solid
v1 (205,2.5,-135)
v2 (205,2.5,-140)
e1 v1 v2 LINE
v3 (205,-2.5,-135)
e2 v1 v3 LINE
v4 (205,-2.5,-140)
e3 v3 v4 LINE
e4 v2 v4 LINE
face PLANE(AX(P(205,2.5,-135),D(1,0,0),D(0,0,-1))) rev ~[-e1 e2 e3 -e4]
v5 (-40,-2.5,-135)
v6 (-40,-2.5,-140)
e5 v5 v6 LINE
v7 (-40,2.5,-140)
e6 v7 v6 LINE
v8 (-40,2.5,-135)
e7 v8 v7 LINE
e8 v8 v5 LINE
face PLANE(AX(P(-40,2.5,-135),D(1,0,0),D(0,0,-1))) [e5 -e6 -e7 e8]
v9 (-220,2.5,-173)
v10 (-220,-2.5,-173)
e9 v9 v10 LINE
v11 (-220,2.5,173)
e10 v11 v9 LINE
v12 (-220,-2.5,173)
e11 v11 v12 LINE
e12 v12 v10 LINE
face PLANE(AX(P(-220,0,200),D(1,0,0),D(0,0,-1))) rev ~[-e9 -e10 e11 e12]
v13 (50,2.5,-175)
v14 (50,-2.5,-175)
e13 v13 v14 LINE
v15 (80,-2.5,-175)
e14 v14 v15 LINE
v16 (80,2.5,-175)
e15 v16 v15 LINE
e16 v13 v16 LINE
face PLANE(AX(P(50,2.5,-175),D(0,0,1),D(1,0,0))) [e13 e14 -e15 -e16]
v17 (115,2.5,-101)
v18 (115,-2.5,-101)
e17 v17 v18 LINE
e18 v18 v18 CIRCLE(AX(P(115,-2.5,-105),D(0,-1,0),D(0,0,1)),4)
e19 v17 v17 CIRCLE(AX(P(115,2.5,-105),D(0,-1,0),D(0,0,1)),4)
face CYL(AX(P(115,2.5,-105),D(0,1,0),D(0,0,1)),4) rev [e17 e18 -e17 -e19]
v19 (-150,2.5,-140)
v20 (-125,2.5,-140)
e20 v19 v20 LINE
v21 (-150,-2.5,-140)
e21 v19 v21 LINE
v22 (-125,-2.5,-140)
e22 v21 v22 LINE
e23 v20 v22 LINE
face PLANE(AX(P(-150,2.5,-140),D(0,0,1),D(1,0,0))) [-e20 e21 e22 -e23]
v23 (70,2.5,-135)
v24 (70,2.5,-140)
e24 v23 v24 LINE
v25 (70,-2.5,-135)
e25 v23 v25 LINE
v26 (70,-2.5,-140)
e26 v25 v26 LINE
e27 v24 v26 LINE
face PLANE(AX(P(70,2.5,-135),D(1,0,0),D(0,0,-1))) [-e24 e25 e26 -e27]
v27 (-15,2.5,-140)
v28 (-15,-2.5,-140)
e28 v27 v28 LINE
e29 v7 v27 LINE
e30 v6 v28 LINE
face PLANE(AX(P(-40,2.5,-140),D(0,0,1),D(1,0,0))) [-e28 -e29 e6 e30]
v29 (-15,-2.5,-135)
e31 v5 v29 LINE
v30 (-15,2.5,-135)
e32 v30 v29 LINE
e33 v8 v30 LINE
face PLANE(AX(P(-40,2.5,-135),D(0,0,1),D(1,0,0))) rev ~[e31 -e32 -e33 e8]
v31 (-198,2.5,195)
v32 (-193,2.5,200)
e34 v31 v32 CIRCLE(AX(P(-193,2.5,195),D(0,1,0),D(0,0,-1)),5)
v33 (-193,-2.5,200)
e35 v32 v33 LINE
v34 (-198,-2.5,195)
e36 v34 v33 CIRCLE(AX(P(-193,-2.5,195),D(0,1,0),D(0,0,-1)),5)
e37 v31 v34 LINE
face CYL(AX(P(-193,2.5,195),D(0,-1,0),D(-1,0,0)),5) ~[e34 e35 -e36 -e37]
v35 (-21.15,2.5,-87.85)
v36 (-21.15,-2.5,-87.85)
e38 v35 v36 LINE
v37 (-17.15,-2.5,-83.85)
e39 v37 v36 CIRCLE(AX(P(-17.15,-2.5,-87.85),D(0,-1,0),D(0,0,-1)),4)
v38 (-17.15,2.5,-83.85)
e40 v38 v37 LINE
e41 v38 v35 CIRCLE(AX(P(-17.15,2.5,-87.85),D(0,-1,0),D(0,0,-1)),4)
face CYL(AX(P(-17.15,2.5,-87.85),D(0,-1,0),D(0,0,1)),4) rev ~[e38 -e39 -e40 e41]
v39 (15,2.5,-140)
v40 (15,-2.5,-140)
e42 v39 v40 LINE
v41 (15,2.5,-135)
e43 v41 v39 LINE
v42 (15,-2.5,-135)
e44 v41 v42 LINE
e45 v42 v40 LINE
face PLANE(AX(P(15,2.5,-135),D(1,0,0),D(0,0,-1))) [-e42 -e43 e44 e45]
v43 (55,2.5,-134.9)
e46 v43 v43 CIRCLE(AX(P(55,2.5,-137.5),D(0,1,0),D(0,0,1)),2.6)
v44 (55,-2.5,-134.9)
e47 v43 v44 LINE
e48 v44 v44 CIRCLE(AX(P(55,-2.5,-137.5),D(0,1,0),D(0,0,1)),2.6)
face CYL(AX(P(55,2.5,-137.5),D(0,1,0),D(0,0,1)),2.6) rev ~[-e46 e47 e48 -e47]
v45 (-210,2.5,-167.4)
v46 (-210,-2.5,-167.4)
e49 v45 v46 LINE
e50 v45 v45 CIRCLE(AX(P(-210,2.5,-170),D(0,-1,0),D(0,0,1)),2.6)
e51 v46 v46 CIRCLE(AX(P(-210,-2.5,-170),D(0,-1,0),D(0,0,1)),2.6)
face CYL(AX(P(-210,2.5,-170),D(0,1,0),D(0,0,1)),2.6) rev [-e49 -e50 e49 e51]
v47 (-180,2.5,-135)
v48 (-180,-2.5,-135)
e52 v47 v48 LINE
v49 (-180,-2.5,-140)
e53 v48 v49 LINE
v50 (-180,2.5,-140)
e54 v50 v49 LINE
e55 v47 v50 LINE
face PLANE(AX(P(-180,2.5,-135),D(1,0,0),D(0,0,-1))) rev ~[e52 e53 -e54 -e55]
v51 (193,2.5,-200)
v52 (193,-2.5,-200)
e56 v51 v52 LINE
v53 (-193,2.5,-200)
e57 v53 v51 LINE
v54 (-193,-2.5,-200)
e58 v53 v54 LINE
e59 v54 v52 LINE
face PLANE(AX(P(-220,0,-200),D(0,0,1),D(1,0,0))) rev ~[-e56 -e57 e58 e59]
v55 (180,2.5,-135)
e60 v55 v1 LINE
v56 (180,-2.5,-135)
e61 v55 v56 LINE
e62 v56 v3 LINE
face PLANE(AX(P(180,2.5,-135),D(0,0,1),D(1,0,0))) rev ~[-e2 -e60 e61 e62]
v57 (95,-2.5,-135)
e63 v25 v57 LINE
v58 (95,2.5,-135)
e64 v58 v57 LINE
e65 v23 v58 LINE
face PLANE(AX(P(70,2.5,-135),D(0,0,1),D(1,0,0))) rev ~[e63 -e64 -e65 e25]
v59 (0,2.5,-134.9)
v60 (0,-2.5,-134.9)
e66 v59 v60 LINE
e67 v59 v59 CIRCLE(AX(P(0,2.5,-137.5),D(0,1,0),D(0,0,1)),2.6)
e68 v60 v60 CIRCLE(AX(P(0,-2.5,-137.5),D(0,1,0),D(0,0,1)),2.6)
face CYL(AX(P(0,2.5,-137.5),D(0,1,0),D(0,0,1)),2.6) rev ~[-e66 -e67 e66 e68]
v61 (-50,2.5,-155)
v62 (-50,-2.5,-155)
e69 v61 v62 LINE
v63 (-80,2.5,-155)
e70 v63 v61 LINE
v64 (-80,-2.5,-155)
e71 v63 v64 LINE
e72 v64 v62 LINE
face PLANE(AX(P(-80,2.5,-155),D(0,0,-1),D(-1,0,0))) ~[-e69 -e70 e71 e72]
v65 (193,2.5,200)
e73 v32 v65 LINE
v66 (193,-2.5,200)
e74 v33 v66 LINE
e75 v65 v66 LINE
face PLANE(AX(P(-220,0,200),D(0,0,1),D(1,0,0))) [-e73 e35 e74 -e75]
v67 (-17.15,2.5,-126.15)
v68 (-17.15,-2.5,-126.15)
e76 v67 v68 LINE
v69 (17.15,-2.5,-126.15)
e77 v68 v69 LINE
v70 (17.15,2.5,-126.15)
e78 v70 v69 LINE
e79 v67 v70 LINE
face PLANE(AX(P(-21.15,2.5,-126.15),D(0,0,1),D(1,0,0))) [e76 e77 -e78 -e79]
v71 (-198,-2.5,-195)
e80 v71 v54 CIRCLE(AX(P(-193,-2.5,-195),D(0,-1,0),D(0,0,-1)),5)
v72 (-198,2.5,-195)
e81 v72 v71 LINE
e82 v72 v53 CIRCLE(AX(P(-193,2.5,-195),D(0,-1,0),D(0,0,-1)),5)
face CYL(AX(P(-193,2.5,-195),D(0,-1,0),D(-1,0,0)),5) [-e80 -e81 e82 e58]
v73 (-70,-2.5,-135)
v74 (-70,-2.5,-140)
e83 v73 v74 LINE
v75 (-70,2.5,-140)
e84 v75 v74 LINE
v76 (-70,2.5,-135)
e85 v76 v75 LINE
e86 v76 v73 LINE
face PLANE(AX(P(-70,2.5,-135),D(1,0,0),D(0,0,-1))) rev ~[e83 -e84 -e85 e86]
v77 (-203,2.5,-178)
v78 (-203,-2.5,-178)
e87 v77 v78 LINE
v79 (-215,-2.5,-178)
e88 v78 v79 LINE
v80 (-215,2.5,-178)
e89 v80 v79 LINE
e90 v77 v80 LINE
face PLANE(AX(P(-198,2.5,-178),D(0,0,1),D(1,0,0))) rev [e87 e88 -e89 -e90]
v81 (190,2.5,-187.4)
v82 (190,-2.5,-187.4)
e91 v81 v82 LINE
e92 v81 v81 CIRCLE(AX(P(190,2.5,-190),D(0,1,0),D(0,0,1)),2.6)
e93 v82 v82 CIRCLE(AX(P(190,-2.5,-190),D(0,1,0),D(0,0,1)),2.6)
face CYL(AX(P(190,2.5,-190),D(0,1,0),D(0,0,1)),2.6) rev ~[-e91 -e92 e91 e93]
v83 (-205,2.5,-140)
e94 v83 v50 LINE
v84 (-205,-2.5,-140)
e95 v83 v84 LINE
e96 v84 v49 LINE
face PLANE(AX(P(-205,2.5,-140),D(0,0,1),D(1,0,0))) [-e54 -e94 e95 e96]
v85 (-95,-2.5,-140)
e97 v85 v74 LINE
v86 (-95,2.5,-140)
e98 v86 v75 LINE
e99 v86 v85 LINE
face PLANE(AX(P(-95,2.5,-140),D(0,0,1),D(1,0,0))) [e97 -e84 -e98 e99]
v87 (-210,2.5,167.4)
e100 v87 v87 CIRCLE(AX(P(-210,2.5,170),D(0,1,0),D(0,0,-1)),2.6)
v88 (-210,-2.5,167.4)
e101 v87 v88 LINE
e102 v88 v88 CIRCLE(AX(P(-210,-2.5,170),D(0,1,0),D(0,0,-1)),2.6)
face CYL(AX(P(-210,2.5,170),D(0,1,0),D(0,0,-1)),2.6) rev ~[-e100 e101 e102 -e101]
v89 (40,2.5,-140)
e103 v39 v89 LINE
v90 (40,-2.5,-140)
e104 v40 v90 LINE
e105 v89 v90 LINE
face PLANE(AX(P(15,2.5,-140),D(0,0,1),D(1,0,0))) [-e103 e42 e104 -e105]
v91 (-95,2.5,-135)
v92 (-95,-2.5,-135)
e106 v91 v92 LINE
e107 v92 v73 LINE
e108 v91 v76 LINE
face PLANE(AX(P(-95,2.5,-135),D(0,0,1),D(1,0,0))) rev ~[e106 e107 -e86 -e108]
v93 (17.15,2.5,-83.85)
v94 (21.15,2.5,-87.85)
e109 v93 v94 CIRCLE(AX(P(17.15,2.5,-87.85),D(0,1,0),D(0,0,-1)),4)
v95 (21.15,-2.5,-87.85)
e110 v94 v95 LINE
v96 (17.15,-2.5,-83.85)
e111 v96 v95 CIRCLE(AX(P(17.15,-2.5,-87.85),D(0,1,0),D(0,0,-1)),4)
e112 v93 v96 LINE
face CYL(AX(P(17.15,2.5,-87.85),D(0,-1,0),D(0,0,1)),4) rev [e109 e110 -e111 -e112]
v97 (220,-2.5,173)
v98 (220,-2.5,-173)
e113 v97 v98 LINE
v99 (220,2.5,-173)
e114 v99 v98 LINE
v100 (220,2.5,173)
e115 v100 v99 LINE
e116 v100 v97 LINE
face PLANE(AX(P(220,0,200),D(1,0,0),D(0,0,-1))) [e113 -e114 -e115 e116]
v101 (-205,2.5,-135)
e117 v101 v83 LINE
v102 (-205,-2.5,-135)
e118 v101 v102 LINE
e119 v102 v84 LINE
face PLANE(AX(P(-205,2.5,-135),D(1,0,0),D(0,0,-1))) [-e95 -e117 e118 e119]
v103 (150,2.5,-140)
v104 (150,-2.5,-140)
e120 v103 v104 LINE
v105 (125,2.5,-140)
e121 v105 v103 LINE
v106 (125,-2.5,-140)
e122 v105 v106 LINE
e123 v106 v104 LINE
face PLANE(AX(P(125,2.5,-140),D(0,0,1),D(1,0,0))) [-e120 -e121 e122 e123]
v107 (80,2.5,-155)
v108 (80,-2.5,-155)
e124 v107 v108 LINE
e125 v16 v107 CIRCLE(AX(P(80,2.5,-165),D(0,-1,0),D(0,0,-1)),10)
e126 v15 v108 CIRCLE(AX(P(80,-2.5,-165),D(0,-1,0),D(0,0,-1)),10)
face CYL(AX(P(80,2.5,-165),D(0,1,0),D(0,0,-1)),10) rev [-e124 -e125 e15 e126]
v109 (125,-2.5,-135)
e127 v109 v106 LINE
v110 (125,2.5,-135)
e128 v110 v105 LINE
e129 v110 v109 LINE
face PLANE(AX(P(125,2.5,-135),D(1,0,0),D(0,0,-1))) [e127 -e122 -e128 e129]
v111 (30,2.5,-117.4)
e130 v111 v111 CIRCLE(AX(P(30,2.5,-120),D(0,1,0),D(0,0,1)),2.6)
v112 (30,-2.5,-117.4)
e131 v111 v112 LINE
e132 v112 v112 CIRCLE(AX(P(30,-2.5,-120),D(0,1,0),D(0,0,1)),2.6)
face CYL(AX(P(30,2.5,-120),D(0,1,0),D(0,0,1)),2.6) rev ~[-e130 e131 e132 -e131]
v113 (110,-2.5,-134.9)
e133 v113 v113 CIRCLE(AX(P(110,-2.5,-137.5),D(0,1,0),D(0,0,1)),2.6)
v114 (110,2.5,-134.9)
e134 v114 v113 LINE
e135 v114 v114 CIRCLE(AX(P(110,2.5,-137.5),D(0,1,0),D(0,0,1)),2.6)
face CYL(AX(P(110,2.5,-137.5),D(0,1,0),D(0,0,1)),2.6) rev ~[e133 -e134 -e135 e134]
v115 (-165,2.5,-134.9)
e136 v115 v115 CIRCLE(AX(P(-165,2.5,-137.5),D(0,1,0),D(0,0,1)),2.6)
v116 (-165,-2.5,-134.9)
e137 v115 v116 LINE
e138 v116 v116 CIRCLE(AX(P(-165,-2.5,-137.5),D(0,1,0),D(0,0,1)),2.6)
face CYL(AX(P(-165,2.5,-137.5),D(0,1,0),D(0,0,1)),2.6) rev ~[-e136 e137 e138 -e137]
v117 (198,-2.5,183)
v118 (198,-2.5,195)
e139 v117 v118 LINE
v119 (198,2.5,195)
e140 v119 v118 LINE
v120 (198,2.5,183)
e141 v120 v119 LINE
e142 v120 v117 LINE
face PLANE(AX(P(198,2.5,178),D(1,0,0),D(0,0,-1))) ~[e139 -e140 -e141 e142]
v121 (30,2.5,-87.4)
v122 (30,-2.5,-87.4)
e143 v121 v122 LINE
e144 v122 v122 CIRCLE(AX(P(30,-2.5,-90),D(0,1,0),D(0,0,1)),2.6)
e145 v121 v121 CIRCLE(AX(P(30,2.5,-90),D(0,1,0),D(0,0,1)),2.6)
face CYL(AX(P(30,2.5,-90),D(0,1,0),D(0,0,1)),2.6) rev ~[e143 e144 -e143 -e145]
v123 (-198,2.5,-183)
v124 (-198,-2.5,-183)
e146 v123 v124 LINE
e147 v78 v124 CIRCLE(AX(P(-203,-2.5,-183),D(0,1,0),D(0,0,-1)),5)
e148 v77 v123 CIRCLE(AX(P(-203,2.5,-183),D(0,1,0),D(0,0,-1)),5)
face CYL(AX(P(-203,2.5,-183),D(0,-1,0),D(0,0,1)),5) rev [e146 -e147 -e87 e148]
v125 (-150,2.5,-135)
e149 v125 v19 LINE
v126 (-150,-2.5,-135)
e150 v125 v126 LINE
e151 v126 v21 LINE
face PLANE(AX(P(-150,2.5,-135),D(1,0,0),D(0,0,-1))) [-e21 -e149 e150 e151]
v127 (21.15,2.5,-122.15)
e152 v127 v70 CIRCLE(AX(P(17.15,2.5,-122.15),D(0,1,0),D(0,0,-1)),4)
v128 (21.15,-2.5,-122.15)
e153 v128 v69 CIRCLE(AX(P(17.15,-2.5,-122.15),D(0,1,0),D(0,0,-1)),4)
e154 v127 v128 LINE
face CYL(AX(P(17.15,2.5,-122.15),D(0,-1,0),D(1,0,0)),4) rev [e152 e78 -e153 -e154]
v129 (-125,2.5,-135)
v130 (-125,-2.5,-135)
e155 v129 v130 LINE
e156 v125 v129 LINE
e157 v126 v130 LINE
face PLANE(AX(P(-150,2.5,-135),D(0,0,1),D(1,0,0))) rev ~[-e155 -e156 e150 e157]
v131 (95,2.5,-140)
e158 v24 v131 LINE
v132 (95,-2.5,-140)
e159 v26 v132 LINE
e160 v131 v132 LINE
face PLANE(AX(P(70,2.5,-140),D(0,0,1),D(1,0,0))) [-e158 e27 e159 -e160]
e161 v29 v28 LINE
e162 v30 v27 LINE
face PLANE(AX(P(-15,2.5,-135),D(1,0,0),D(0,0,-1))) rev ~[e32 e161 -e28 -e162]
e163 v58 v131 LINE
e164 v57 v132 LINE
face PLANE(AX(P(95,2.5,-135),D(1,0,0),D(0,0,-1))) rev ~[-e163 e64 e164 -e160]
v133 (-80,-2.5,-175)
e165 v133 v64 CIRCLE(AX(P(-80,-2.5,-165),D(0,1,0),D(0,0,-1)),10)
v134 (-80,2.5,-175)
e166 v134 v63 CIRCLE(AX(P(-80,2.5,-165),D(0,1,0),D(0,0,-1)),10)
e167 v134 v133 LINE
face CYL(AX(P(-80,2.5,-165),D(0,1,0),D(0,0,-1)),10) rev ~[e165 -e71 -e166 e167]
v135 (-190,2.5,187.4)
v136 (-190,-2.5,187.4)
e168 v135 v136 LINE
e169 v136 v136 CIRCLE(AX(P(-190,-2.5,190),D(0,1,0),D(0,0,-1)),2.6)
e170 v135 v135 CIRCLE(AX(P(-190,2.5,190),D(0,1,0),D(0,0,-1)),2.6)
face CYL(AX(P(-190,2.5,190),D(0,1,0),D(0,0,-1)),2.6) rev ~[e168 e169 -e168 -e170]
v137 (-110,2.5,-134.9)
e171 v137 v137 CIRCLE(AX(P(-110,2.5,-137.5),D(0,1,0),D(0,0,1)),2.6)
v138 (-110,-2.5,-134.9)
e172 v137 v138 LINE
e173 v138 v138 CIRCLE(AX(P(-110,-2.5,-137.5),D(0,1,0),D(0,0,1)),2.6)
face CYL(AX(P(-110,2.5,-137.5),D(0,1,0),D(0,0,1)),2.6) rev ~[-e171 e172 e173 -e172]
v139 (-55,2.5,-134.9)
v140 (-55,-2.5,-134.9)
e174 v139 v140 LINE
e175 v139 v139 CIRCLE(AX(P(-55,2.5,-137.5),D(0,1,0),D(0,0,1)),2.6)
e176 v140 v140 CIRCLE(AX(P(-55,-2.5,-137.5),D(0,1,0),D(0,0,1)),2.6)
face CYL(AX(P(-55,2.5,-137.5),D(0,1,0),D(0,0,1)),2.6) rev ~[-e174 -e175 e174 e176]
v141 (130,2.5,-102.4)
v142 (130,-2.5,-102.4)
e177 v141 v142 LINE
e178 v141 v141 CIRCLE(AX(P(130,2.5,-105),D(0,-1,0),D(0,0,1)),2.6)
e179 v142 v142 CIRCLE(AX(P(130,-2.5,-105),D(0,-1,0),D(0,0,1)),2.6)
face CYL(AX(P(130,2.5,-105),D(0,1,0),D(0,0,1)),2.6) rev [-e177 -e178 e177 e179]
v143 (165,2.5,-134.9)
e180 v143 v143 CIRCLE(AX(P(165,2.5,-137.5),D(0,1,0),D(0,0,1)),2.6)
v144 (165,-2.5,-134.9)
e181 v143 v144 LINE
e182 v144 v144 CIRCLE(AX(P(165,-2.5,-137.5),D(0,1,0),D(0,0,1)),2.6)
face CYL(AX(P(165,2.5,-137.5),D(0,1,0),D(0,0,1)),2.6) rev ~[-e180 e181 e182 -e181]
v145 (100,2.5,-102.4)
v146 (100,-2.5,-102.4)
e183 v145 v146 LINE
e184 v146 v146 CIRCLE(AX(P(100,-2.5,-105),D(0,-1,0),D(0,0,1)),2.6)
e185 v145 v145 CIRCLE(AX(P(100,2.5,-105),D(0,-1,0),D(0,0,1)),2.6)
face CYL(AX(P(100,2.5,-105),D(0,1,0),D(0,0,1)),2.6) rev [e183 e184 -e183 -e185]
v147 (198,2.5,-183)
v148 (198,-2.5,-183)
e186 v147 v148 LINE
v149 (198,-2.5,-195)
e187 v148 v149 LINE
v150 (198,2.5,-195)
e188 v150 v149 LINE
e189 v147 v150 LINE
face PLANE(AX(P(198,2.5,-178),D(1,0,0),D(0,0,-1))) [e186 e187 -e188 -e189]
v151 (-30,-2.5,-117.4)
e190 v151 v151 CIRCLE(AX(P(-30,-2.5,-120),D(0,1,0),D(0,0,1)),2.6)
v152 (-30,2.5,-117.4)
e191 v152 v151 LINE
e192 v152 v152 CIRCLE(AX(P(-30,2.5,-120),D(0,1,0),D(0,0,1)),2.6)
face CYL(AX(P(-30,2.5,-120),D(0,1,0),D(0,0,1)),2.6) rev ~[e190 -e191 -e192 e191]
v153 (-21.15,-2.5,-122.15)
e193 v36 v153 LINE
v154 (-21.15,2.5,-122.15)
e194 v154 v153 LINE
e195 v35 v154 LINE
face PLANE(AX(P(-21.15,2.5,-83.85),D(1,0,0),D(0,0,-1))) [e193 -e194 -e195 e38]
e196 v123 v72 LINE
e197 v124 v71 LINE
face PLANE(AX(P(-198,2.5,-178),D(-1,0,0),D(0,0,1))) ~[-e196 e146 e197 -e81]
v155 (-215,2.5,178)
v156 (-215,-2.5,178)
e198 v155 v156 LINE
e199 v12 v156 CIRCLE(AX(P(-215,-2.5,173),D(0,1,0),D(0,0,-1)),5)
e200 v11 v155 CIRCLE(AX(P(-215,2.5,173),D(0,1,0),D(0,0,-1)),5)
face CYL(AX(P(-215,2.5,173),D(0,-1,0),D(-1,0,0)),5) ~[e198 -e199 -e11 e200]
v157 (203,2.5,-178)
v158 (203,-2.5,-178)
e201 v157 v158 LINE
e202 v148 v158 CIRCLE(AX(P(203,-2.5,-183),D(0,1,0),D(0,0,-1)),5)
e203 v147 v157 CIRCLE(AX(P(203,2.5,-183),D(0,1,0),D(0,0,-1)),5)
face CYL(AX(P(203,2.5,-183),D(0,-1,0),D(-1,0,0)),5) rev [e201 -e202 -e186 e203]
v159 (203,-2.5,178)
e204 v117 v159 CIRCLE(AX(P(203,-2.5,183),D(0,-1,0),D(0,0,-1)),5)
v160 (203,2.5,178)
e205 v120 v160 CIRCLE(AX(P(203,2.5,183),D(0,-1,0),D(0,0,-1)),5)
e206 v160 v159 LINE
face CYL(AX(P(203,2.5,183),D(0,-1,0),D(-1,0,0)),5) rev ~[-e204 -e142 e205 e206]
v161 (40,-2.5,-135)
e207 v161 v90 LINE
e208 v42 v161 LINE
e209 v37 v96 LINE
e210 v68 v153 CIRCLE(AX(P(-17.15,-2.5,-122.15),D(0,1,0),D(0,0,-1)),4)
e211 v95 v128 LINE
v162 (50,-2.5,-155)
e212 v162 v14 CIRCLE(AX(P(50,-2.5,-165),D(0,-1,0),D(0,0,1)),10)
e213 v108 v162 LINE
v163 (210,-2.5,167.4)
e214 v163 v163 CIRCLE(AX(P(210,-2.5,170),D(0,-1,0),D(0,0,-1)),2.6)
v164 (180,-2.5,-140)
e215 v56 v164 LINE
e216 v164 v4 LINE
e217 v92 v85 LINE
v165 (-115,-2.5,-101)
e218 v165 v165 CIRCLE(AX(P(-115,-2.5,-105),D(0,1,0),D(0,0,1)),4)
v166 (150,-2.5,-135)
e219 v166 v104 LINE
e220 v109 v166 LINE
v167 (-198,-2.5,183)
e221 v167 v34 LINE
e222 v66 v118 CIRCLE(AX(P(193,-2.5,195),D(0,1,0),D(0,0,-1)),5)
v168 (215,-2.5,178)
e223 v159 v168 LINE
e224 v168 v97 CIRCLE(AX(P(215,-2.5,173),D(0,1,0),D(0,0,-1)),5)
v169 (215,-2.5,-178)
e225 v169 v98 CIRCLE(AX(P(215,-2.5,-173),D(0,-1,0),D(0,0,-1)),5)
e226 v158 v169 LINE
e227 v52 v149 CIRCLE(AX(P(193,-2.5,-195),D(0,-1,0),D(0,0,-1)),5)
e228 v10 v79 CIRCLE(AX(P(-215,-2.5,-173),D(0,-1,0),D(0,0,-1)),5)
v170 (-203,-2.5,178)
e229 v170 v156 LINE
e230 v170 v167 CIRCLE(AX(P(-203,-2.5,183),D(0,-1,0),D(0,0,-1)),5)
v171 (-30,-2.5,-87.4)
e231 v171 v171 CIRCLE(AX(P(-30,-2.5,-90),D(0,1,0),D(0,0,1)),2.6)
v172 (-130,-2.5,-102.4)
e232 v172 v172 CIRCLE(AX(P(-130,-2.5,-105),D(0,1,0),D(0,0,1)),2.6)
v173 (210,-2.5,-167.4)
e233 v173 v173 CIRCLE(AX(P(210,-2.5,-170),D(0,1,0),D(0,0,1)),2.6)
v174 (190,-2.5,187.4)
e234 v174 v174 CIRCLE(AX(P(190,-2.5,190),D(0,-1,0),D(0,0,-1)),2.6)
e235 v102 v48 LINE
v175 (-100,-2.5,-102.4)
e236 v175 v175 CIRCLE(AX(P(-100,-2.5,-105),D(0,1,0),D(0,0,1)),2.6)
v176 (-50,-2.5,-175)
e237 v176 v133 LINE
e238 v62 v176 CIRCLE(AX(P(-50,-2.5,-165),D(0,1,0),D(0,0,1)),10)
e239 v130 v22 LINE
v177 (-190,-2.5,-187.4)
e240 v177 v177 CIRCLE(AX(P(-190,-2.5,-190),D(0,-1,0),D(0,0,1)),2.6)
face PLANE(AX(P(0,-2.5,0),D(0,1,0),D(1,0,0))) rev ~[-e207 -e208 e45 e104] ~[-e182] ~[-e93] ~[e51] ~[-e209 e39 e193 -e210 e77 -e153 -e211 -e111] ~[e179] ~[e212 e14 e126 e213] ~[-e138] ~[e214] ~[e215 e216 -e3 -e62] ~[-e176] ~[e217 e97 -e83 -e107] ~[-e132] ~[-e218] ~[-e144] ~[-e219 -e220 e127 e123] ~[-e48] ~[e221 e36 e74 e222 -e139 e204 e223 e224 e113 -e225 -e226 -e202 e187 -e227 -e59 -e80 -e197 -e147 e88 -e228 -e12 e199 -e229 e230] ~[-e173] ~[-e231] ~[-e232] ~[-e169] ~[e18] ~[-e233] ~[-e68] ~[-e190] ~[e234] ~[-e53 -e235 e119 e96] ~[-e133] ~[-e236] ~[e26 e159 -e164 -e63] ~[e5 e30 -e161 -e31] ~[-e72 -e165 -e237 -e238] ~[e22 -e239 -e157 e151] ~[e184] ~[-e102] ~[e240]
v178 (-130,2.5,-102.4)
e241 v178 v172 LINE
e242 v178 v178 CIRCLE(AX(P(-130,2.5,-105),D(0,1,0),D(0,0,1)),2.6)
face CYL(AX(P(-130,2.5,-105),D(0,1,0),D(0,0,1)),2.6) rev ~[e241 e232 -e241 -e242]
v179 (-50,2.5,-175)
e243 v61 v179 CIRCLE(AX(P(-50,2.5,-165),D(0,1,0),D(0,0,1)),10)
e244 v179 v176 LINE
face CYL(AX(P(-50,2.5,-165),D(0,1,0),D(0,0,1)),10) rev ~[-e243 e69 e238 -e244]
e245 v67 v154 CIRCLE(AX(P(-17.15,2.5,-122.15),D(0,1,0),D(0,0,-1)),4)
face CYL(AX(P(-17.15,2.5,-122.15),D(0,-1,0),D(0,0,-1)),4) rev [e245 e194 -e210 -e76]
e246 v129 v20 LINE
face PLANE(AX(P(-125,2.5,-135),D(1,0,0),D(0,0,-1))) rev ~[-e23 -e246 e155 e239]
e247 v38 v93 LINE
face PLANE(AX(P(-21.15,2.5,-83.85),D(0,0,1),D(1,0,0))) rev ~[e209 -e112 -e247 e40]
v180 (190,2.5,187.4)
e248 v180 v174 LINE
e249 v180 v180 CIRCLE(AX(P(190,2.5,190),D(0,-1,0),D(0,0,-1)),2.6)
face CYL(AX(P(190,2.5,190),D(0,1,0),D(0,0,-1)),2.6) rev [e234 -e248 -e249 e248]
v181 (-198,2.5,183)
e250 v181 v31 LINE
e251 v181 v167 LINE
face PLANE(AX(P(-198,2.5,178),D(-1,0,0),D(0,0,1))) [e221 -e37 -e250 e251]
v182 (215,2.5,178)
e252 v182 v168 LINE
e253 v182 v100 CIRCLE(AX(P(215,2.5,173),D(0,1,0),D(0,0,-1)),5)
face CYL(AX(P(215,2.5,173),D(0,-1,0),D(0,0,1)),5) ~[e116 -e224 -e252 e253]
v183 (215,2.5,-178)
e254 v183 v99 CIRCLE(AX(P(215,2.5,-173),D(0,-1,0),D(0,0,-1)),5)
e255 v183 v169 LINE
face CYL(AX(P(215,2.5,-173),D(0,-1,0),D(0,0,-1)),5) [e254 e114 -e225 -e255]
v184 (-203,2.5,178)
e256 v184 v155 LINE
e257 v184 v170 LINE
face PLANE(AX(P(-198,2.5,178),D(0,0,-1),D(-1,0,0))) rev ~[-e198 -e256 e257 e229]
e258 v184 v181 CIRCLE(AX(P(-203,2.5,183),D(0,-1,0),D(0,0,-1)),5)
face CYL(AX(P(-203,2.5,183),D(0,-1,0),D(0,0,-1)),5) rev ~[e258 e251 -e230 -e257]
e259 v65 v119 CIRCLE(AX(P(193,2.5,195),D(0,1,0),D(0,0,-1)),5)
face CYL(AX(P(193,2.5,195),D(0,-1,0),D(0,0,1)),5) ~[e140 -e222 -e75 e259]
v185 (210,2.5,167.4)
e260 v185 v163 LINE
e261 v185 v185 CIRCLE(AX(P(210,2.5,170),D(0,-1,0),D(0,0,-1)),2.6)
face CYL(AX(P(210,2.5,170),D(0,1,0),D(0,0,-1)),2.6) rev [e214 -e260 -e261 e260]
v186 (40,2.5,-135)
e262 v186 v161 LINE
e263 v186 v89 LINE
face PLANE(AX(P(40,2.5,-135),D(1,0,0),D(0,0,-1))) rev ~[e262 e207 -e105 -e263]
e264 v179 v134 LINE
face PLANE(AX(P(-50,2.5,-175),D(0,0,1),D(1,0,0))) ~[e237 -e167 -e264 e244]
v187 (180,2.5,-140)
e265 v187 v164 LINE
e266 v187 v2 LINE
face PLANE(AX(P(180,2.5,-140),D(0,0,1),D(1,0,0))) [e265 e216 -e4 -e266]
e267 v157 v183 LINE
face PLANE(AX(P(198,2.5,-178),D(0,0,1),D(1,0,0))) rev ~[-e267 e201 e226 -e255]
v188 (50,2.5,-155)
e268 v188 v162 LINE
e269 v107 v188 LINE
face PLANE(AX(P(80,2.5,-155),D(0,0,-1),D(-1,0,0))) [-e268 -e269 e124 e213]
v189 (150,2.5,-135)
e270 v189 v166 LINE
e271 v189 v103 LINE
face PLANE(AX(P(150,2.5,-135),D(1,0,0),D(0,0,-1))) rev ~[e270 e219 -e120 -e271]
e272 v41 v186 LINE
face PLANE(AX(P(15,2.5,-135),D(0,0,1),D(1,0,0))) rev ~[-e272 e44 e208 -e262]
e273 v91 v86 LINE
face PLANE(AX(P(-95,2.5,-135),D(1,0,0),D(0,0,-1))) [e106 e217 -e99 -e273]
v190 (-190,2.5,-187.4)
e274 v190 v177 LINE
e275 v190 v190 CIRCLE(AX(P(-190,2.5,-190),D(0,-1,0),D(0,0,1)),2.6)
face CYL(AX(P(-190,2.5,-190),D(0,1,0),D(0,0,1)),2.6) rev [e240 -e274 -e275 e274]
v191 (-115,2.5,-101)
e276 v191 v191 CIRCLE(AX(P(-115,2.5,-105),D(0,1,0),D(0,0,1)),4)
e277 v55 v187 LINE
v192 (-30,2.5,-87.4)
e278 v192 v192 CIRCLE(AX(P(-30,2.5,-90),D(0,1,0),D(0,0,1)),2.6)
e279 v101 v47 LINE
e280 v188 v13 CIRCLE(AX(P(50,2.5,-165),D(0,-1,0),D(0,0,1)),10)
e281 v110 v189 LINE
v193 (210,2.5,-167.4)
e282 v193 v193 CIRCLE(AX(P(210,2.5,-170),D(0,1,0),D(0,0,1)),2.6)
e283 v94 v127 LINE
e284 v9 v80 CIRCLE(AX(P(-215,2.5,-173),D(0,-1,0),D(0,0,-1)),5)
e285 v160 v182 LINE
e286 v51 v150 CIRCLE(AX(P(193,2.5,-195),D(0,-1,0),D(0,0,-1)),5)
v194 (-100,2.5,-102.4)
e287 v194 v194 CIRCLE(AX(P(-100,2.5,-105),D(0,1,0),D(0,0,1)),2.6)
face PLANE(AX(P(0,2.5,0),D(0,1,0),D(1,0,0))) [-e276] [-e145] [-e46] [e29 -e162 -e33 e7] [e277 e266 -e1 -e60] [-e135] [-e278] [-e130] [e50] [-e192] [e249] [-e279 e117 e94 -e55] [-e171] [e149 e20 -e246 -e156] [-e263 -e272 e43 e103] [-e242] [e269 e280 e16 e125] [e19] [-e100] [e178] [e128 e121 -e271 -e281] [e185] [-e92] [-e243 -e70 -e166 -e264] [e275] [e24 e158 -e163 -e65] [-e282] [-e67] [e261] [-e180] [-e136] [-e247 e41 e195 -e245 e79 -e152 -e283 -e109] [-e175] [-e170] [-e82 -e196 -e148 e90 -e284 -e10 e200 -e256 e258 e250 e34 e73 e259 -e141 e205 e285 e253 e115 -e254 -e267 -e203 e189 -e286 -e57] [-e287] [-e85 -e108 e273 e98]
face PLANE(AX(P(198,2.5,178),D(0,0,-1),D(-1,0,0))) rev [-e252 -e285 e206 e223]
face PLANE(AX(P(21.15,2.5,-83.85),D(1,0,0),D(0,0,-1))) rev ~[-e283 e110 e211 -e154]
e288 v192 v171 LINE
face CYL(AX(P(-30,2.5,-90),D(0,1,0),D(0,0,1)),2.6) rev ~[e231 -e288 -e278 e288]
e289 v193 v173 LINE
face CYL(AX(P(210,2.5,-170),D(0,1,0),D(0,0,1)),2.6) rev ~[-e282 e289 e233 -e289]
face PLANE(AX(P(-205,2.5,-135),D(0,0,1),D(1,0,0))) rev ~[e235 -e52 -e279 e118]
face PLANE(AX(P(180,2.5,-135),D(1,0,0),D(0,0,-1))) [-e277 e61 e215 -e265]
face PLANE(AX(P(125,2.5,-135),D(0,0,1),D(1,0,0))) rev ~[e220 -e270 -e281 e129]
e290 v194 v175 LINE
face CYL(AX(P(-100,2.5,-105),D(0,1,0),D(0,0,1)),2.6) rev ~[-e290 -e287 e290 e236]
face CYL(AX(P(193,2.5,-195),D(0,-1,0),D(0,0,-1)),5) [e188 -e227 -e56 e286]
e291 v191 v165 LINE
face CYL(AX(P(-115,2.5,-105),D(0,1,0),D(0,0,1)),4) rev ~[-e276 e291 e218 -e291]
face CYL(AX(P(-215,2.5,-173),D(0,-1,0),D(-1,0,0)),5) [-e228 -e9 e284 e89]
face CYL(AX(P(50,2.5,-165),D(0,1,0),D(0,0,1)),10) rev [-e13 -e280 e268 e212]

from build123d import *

# Parameters (mm, degrees)
SKETCH1_W               = 440
SKETCH1_H               = 400
BOSS_EXTRUDE1_DEPTH     = 2.5
SKETCH2_W               = 22
SKETCH2_H               = 22
CUT_EXTRUDE1_DEPTH      = 5
SKETCH3_R               = 2.6
CUT_EXTRUDE2_DEPTH      = 5
MIRROR2_COPY_1_SKETCH_W = 22
MIRROR2_COPY_1_SKETCH_H = 22
MIRROR2_COPY_1_DEPTH    = 5
MIRROR2_COPY_2_SKETCH_R = 2.6
MIRROR2_COPY_2_DEPTH    = 5
FILLET1_R               = 5
SKETCH4_W               = 25
SKETCH4_H               = 5
CUT_EXTRUDE3_DEPTH      = 5
LPATTERN1_COUNT         = 8
LPATTERN1_PITCH         = 55
SKETCH5_R               = 2.6
CUT_EXTRUDE4_DEPTH      = 5
LPATTERN2_COUNT         = 7
LPATTERN2_PITCH         = 55
SKETCH6_W               = 42.3
SKETCH6_H               = 42.3
CUT_EXTRUDE5_DEPTH      = 5
FILLET2_R               = 4
SKETCH7_R               = 2.6
CUT_EXTRUDE7_DEPTH      = 5
LPATTERN3_COUNT         = 2
LPATTERN3_PITCH         = 60
LPATTERN3_COUNT_DIR2    = 2
LPATTERN3_PITCH_DIR2    = 30
SKETCH8_R               = 4
SKETCH8_R_2             = 2.6
CUT_EXTRUDE8_DEPTH      = 5
CUT_EXTRUDE9_DEPTH      = 5


with BuildPart() as part:
    # Sketch1 → Boss-Extrude1 (new, symmetric)
    with BuildSketch(Plane(origin=(0, 0, 0), x_dir=(1, 0, 0), z_dir=(0, 1, 0))):
        Rectangle(SKETCH1_W, SKETCH1_H)
    extrude(amount=BOSS_EXTRUDE1_DEPTH, both=True)

    # Sketch2 → Cut-Extrude1 (cut)
    with BuildSketch(Plane(origin=(0, 2.5, 0), x_dir=(1, 0, 0), z_dir=(0, 1, 0))):
        with Locations((209, 189)):
            Rectangle(SKETCH2_W, SKETCH2_H)
    cut_extrude1 = extrude(amount=-CUT_EXTRUDE1_DEPTH, mode=Mode.SUBTRACT)

    # Sketch3 → Cut-Extrude2 (cut)
    with BuildSketch(Plane(origin=(0, 2.5, 0), x_dir=(1, 0, 0), z_dir=(0, 1, 0))):
        with Locations(Location((190, 190, 0), (0, 0, 270))):
            Circle(SKETCH3_R)
        with Locations(Location((210, 170, 0), (0, 0, 270))):
            Circle(SKETCH3_R)
    cut_extrude2 = extrude(amount=-CUT_EXTRUDE2_DEPTH, mode=Mode.SUBTRACT)

    # Mirror1: Cut-Extrude1, Cut-Extrude2 across plane
    add(cut_extrude1.mirror(Plane(origin=(0, 0, 0), x_dir=(0, 0, 1), z_dir=(1, 0, 0))), mode=Mode.SUBTRACT)
    add(cut_extrude2.mirror(Plane(origin=(0, 0, 0), x_dir=(0, 0, 1), z_dir=(1, 0, 0))), mode=Mode.SUBTRACT)

    # Mirror2: Cut-Extrude1, Cut-Extrude2 across plane
    add(cut_extrude1.mirror(Plane.XY), mode=Mode.SUBTRACT)
    add(cut_extrude2.mirror(Plane.XY), mode=Mode.SUBTRACT)

    # Mirror2 copy 1 sketch → Mirror2 copy 1 (cut)
    with BuildSketch(Plane(origin=(0, 2.5, 0), x_dir=(-1, 0, 0), z_dir=(0, 1, 0))):
        with Locations((209, 189)):
            Rectangle(MIRROR2_COPY_1_SKETCH_W, MIRROR2_COPY_1_SKETCH_H)
    extrude(amount=-MIRROR2_COPY_1_DEPTH, mode=Mode.SUBTRACT)

    # Mirror2 copy 2 sketch → Mirror2 copy 2 (cut)
    with BuildSketch(Plane(origin=(0, 2.5, 0), x_dir=(-1, 0, 0), z_dir=(0, 1, 0))):
        with Locations(Location((190, 190, 0), (0, 0, 270))):
            Circle(MIRROR2_COPY_2_SKETCH_R)
        with Locations(Location((210, 170, 0), (0, 0, 270))):
            Circle(MIRROR2_COPY_2_SKETCH_R)
    extrude(amount=-MIRROR2_COPY_2_DEPTH, mode=Mode.SUBTRACT)

    # Fillet1
    fillet1_edges = [part.edges().sort_by_distance(p)[0] for p in [
        (220, 0, -178),
        (198, 0, -178),
        (198, 0, -200),
        (-198, 0, -178),
        (-198, 0, -200),
        (-220, 0, -178),
        (-220, 0, 178),
        (-198, 0, 178),
        (-198, 0, 200),
        (198, 0, 178),
        (198, 0, 200),
        (220, 0, 178),
    ]]
    fillet(fillet1_edges, radius=FILLET1_R)

    # Sketch4 → Cut-Extrude3 (cut)
    with BuildSketch(Plane(origin=(0, 2.5, 0), x_dir=(1, 0, 0), z_dir=(0, 1, 0))):
        with Locations((-192.5, 137.5)):
            Rectangle(SKETCH4_W, SKETCH4_H)
    cut_extrude3 = extrude(amount=-CUT_EXTRUDE3_DEPTH, mode=Mode.SUBTRACT)

    # LPattern1: Cut-Extrude3 ×8
    with Locations(*[(i * LPATTERN1_PITCH, 0, 0) for i in range(1, LPATTERN1_COUNT)]):
        add(cut_extrude3, mode=Mode.SUBTRACT)

    # Sketch5 → Cut-Extrude4 (cut)
    with BuildSketch(Plane(origin=(0, 2.5, 0), x_dir=(1, 0, 0), z_dir=(0, 1, 0))):
        with Locations(Location((-165, 137.5, 0), (0, 0, 270))):
            Circle(SKETCH5_R)
    cut_extrude4 = extrude(amount=-CUT_EXTRUDE4_DEPTH, mode=Mode.SUBTRACT)

    # LPattern2: Cut-Extrude4 ×7
    with Locations(*[(i * LPATTERN2_PITCH, 0, 0) for i in range(1, LPATTERN2_COUNT)]):
        add(cut_extrude4, mode=Mode.SUBTRACT)

    # Sketch6 → Cut-Extrude5 (cut)
    with BuildSketch(Plane(origin=(0, 2.5, 0), x_dir=(1, 0, 0), z_dir=(0, 1, 0))):
        with Locations((0, 105)):
            Rectangle(SKETCH6_W, SKETCH6_H)
    extrude(amount=-CUT_EXTRUDE5_DEPTH, mode=Mode.SUBTRACT)

    # Fillet2
    fillet2_edges = [part.edges().sort_by_distance(p)[0] for p in [
        (21.15, 0, -126.15),
        (21.15, 0, -83.85),
        (-21.15, 0, -83.85),
        (-21.15, 0, -126.15),
    ]]
    fillet(fillet2_edges, radius=FILLET2_R)

    # Sketch7 → Cut-Extrude7 (cut)
    with BuildSketch(Plane(origin=(0, 2.5, 0), x_dir=(1, 0, 0), z_dir=(0, 1, 0))):
        with Locations(Location((30, 120, 0), (0, 0, 270))):
            Circle(SKETCH7_R)
    cut_extrude7 = extrude(amount=-CUT_EXTRUDE7_DEPTH, mode=Mode.SUBTRACT)

    # LPattern3: Cut-Extrude7 2 × 2
    with Locations(*[(-i * LPATTERN3_PITCH, 0, j * LPATTERN3_PITCH_DIR2) for i in range(LPATTERN3_COUNT) for j in range(LPATTERN3_COUNT_DIR2) if (i, j) != (0, 0)]):
        add(cut_extrude7, mode=Mode.SUBTRACT)

    # Sketch8 → Cut-Extrude8 (cut)
    with BuildSketch(Plane(origin=(0, 2.5, 0), x_dir=(1, 0, 0), z_dir=(0, 1, 0))):
        with Locations(Location((-115, 105, 0), (0, 0, 270))):
            Circle(SKETCH8_R)
        with Locations(Location((-100, 105, 0), (0, 0, 270))):
            Circle(SKETCH8_R_2)
        with Locations(Location((-130, 105, 0), (0, 0, 270))):
            Circle(SKETCH8_R_2)
    cut_extrude8 = extrude(amount=-CUT_EXTRUDE8_DEPTH, mode=Mode.SUBTRACT)

    # Mirror3: Cut-Extrude8 across plane
    add(cut_extrude8.mirror(Plane(origin=(0, 0, 0), x_dir=(0, 0, 1), z_dir=(1, 0, 0))), mode=Mode.SUBTRACT)

    # Sketch9 → Cut-Extrude9 (cut)
    with BuildSketch(Plane(origin=(0, 2.5, 0), x_dir=(1, 0, 0), z_dir=(0, 1, 0))):
        with BuildLine():
            Line((50, 175), (80, 175))
            ThreePointArc((80, 175), (90, 165), (80, 155))
            Line((80, 155), (50, 155))
            ThreePointArc((50, 155), (40, 165), (50, 175))
        make_face()
    cut_extrude9 = extrude(amount=-CUT_EXTRUDE9_DEPTH, mode=Mode.SUBTRACT)

    # Mirror4: Cut-Extrude9 across plane
    add(cut_extrude9.mirror(Plane(origin=(0, 0, 0), x_dir=(0, 0, 1), z_dir=(1, 0, 0))), mode=Mode.SUBTRACT)


solid = part.part
